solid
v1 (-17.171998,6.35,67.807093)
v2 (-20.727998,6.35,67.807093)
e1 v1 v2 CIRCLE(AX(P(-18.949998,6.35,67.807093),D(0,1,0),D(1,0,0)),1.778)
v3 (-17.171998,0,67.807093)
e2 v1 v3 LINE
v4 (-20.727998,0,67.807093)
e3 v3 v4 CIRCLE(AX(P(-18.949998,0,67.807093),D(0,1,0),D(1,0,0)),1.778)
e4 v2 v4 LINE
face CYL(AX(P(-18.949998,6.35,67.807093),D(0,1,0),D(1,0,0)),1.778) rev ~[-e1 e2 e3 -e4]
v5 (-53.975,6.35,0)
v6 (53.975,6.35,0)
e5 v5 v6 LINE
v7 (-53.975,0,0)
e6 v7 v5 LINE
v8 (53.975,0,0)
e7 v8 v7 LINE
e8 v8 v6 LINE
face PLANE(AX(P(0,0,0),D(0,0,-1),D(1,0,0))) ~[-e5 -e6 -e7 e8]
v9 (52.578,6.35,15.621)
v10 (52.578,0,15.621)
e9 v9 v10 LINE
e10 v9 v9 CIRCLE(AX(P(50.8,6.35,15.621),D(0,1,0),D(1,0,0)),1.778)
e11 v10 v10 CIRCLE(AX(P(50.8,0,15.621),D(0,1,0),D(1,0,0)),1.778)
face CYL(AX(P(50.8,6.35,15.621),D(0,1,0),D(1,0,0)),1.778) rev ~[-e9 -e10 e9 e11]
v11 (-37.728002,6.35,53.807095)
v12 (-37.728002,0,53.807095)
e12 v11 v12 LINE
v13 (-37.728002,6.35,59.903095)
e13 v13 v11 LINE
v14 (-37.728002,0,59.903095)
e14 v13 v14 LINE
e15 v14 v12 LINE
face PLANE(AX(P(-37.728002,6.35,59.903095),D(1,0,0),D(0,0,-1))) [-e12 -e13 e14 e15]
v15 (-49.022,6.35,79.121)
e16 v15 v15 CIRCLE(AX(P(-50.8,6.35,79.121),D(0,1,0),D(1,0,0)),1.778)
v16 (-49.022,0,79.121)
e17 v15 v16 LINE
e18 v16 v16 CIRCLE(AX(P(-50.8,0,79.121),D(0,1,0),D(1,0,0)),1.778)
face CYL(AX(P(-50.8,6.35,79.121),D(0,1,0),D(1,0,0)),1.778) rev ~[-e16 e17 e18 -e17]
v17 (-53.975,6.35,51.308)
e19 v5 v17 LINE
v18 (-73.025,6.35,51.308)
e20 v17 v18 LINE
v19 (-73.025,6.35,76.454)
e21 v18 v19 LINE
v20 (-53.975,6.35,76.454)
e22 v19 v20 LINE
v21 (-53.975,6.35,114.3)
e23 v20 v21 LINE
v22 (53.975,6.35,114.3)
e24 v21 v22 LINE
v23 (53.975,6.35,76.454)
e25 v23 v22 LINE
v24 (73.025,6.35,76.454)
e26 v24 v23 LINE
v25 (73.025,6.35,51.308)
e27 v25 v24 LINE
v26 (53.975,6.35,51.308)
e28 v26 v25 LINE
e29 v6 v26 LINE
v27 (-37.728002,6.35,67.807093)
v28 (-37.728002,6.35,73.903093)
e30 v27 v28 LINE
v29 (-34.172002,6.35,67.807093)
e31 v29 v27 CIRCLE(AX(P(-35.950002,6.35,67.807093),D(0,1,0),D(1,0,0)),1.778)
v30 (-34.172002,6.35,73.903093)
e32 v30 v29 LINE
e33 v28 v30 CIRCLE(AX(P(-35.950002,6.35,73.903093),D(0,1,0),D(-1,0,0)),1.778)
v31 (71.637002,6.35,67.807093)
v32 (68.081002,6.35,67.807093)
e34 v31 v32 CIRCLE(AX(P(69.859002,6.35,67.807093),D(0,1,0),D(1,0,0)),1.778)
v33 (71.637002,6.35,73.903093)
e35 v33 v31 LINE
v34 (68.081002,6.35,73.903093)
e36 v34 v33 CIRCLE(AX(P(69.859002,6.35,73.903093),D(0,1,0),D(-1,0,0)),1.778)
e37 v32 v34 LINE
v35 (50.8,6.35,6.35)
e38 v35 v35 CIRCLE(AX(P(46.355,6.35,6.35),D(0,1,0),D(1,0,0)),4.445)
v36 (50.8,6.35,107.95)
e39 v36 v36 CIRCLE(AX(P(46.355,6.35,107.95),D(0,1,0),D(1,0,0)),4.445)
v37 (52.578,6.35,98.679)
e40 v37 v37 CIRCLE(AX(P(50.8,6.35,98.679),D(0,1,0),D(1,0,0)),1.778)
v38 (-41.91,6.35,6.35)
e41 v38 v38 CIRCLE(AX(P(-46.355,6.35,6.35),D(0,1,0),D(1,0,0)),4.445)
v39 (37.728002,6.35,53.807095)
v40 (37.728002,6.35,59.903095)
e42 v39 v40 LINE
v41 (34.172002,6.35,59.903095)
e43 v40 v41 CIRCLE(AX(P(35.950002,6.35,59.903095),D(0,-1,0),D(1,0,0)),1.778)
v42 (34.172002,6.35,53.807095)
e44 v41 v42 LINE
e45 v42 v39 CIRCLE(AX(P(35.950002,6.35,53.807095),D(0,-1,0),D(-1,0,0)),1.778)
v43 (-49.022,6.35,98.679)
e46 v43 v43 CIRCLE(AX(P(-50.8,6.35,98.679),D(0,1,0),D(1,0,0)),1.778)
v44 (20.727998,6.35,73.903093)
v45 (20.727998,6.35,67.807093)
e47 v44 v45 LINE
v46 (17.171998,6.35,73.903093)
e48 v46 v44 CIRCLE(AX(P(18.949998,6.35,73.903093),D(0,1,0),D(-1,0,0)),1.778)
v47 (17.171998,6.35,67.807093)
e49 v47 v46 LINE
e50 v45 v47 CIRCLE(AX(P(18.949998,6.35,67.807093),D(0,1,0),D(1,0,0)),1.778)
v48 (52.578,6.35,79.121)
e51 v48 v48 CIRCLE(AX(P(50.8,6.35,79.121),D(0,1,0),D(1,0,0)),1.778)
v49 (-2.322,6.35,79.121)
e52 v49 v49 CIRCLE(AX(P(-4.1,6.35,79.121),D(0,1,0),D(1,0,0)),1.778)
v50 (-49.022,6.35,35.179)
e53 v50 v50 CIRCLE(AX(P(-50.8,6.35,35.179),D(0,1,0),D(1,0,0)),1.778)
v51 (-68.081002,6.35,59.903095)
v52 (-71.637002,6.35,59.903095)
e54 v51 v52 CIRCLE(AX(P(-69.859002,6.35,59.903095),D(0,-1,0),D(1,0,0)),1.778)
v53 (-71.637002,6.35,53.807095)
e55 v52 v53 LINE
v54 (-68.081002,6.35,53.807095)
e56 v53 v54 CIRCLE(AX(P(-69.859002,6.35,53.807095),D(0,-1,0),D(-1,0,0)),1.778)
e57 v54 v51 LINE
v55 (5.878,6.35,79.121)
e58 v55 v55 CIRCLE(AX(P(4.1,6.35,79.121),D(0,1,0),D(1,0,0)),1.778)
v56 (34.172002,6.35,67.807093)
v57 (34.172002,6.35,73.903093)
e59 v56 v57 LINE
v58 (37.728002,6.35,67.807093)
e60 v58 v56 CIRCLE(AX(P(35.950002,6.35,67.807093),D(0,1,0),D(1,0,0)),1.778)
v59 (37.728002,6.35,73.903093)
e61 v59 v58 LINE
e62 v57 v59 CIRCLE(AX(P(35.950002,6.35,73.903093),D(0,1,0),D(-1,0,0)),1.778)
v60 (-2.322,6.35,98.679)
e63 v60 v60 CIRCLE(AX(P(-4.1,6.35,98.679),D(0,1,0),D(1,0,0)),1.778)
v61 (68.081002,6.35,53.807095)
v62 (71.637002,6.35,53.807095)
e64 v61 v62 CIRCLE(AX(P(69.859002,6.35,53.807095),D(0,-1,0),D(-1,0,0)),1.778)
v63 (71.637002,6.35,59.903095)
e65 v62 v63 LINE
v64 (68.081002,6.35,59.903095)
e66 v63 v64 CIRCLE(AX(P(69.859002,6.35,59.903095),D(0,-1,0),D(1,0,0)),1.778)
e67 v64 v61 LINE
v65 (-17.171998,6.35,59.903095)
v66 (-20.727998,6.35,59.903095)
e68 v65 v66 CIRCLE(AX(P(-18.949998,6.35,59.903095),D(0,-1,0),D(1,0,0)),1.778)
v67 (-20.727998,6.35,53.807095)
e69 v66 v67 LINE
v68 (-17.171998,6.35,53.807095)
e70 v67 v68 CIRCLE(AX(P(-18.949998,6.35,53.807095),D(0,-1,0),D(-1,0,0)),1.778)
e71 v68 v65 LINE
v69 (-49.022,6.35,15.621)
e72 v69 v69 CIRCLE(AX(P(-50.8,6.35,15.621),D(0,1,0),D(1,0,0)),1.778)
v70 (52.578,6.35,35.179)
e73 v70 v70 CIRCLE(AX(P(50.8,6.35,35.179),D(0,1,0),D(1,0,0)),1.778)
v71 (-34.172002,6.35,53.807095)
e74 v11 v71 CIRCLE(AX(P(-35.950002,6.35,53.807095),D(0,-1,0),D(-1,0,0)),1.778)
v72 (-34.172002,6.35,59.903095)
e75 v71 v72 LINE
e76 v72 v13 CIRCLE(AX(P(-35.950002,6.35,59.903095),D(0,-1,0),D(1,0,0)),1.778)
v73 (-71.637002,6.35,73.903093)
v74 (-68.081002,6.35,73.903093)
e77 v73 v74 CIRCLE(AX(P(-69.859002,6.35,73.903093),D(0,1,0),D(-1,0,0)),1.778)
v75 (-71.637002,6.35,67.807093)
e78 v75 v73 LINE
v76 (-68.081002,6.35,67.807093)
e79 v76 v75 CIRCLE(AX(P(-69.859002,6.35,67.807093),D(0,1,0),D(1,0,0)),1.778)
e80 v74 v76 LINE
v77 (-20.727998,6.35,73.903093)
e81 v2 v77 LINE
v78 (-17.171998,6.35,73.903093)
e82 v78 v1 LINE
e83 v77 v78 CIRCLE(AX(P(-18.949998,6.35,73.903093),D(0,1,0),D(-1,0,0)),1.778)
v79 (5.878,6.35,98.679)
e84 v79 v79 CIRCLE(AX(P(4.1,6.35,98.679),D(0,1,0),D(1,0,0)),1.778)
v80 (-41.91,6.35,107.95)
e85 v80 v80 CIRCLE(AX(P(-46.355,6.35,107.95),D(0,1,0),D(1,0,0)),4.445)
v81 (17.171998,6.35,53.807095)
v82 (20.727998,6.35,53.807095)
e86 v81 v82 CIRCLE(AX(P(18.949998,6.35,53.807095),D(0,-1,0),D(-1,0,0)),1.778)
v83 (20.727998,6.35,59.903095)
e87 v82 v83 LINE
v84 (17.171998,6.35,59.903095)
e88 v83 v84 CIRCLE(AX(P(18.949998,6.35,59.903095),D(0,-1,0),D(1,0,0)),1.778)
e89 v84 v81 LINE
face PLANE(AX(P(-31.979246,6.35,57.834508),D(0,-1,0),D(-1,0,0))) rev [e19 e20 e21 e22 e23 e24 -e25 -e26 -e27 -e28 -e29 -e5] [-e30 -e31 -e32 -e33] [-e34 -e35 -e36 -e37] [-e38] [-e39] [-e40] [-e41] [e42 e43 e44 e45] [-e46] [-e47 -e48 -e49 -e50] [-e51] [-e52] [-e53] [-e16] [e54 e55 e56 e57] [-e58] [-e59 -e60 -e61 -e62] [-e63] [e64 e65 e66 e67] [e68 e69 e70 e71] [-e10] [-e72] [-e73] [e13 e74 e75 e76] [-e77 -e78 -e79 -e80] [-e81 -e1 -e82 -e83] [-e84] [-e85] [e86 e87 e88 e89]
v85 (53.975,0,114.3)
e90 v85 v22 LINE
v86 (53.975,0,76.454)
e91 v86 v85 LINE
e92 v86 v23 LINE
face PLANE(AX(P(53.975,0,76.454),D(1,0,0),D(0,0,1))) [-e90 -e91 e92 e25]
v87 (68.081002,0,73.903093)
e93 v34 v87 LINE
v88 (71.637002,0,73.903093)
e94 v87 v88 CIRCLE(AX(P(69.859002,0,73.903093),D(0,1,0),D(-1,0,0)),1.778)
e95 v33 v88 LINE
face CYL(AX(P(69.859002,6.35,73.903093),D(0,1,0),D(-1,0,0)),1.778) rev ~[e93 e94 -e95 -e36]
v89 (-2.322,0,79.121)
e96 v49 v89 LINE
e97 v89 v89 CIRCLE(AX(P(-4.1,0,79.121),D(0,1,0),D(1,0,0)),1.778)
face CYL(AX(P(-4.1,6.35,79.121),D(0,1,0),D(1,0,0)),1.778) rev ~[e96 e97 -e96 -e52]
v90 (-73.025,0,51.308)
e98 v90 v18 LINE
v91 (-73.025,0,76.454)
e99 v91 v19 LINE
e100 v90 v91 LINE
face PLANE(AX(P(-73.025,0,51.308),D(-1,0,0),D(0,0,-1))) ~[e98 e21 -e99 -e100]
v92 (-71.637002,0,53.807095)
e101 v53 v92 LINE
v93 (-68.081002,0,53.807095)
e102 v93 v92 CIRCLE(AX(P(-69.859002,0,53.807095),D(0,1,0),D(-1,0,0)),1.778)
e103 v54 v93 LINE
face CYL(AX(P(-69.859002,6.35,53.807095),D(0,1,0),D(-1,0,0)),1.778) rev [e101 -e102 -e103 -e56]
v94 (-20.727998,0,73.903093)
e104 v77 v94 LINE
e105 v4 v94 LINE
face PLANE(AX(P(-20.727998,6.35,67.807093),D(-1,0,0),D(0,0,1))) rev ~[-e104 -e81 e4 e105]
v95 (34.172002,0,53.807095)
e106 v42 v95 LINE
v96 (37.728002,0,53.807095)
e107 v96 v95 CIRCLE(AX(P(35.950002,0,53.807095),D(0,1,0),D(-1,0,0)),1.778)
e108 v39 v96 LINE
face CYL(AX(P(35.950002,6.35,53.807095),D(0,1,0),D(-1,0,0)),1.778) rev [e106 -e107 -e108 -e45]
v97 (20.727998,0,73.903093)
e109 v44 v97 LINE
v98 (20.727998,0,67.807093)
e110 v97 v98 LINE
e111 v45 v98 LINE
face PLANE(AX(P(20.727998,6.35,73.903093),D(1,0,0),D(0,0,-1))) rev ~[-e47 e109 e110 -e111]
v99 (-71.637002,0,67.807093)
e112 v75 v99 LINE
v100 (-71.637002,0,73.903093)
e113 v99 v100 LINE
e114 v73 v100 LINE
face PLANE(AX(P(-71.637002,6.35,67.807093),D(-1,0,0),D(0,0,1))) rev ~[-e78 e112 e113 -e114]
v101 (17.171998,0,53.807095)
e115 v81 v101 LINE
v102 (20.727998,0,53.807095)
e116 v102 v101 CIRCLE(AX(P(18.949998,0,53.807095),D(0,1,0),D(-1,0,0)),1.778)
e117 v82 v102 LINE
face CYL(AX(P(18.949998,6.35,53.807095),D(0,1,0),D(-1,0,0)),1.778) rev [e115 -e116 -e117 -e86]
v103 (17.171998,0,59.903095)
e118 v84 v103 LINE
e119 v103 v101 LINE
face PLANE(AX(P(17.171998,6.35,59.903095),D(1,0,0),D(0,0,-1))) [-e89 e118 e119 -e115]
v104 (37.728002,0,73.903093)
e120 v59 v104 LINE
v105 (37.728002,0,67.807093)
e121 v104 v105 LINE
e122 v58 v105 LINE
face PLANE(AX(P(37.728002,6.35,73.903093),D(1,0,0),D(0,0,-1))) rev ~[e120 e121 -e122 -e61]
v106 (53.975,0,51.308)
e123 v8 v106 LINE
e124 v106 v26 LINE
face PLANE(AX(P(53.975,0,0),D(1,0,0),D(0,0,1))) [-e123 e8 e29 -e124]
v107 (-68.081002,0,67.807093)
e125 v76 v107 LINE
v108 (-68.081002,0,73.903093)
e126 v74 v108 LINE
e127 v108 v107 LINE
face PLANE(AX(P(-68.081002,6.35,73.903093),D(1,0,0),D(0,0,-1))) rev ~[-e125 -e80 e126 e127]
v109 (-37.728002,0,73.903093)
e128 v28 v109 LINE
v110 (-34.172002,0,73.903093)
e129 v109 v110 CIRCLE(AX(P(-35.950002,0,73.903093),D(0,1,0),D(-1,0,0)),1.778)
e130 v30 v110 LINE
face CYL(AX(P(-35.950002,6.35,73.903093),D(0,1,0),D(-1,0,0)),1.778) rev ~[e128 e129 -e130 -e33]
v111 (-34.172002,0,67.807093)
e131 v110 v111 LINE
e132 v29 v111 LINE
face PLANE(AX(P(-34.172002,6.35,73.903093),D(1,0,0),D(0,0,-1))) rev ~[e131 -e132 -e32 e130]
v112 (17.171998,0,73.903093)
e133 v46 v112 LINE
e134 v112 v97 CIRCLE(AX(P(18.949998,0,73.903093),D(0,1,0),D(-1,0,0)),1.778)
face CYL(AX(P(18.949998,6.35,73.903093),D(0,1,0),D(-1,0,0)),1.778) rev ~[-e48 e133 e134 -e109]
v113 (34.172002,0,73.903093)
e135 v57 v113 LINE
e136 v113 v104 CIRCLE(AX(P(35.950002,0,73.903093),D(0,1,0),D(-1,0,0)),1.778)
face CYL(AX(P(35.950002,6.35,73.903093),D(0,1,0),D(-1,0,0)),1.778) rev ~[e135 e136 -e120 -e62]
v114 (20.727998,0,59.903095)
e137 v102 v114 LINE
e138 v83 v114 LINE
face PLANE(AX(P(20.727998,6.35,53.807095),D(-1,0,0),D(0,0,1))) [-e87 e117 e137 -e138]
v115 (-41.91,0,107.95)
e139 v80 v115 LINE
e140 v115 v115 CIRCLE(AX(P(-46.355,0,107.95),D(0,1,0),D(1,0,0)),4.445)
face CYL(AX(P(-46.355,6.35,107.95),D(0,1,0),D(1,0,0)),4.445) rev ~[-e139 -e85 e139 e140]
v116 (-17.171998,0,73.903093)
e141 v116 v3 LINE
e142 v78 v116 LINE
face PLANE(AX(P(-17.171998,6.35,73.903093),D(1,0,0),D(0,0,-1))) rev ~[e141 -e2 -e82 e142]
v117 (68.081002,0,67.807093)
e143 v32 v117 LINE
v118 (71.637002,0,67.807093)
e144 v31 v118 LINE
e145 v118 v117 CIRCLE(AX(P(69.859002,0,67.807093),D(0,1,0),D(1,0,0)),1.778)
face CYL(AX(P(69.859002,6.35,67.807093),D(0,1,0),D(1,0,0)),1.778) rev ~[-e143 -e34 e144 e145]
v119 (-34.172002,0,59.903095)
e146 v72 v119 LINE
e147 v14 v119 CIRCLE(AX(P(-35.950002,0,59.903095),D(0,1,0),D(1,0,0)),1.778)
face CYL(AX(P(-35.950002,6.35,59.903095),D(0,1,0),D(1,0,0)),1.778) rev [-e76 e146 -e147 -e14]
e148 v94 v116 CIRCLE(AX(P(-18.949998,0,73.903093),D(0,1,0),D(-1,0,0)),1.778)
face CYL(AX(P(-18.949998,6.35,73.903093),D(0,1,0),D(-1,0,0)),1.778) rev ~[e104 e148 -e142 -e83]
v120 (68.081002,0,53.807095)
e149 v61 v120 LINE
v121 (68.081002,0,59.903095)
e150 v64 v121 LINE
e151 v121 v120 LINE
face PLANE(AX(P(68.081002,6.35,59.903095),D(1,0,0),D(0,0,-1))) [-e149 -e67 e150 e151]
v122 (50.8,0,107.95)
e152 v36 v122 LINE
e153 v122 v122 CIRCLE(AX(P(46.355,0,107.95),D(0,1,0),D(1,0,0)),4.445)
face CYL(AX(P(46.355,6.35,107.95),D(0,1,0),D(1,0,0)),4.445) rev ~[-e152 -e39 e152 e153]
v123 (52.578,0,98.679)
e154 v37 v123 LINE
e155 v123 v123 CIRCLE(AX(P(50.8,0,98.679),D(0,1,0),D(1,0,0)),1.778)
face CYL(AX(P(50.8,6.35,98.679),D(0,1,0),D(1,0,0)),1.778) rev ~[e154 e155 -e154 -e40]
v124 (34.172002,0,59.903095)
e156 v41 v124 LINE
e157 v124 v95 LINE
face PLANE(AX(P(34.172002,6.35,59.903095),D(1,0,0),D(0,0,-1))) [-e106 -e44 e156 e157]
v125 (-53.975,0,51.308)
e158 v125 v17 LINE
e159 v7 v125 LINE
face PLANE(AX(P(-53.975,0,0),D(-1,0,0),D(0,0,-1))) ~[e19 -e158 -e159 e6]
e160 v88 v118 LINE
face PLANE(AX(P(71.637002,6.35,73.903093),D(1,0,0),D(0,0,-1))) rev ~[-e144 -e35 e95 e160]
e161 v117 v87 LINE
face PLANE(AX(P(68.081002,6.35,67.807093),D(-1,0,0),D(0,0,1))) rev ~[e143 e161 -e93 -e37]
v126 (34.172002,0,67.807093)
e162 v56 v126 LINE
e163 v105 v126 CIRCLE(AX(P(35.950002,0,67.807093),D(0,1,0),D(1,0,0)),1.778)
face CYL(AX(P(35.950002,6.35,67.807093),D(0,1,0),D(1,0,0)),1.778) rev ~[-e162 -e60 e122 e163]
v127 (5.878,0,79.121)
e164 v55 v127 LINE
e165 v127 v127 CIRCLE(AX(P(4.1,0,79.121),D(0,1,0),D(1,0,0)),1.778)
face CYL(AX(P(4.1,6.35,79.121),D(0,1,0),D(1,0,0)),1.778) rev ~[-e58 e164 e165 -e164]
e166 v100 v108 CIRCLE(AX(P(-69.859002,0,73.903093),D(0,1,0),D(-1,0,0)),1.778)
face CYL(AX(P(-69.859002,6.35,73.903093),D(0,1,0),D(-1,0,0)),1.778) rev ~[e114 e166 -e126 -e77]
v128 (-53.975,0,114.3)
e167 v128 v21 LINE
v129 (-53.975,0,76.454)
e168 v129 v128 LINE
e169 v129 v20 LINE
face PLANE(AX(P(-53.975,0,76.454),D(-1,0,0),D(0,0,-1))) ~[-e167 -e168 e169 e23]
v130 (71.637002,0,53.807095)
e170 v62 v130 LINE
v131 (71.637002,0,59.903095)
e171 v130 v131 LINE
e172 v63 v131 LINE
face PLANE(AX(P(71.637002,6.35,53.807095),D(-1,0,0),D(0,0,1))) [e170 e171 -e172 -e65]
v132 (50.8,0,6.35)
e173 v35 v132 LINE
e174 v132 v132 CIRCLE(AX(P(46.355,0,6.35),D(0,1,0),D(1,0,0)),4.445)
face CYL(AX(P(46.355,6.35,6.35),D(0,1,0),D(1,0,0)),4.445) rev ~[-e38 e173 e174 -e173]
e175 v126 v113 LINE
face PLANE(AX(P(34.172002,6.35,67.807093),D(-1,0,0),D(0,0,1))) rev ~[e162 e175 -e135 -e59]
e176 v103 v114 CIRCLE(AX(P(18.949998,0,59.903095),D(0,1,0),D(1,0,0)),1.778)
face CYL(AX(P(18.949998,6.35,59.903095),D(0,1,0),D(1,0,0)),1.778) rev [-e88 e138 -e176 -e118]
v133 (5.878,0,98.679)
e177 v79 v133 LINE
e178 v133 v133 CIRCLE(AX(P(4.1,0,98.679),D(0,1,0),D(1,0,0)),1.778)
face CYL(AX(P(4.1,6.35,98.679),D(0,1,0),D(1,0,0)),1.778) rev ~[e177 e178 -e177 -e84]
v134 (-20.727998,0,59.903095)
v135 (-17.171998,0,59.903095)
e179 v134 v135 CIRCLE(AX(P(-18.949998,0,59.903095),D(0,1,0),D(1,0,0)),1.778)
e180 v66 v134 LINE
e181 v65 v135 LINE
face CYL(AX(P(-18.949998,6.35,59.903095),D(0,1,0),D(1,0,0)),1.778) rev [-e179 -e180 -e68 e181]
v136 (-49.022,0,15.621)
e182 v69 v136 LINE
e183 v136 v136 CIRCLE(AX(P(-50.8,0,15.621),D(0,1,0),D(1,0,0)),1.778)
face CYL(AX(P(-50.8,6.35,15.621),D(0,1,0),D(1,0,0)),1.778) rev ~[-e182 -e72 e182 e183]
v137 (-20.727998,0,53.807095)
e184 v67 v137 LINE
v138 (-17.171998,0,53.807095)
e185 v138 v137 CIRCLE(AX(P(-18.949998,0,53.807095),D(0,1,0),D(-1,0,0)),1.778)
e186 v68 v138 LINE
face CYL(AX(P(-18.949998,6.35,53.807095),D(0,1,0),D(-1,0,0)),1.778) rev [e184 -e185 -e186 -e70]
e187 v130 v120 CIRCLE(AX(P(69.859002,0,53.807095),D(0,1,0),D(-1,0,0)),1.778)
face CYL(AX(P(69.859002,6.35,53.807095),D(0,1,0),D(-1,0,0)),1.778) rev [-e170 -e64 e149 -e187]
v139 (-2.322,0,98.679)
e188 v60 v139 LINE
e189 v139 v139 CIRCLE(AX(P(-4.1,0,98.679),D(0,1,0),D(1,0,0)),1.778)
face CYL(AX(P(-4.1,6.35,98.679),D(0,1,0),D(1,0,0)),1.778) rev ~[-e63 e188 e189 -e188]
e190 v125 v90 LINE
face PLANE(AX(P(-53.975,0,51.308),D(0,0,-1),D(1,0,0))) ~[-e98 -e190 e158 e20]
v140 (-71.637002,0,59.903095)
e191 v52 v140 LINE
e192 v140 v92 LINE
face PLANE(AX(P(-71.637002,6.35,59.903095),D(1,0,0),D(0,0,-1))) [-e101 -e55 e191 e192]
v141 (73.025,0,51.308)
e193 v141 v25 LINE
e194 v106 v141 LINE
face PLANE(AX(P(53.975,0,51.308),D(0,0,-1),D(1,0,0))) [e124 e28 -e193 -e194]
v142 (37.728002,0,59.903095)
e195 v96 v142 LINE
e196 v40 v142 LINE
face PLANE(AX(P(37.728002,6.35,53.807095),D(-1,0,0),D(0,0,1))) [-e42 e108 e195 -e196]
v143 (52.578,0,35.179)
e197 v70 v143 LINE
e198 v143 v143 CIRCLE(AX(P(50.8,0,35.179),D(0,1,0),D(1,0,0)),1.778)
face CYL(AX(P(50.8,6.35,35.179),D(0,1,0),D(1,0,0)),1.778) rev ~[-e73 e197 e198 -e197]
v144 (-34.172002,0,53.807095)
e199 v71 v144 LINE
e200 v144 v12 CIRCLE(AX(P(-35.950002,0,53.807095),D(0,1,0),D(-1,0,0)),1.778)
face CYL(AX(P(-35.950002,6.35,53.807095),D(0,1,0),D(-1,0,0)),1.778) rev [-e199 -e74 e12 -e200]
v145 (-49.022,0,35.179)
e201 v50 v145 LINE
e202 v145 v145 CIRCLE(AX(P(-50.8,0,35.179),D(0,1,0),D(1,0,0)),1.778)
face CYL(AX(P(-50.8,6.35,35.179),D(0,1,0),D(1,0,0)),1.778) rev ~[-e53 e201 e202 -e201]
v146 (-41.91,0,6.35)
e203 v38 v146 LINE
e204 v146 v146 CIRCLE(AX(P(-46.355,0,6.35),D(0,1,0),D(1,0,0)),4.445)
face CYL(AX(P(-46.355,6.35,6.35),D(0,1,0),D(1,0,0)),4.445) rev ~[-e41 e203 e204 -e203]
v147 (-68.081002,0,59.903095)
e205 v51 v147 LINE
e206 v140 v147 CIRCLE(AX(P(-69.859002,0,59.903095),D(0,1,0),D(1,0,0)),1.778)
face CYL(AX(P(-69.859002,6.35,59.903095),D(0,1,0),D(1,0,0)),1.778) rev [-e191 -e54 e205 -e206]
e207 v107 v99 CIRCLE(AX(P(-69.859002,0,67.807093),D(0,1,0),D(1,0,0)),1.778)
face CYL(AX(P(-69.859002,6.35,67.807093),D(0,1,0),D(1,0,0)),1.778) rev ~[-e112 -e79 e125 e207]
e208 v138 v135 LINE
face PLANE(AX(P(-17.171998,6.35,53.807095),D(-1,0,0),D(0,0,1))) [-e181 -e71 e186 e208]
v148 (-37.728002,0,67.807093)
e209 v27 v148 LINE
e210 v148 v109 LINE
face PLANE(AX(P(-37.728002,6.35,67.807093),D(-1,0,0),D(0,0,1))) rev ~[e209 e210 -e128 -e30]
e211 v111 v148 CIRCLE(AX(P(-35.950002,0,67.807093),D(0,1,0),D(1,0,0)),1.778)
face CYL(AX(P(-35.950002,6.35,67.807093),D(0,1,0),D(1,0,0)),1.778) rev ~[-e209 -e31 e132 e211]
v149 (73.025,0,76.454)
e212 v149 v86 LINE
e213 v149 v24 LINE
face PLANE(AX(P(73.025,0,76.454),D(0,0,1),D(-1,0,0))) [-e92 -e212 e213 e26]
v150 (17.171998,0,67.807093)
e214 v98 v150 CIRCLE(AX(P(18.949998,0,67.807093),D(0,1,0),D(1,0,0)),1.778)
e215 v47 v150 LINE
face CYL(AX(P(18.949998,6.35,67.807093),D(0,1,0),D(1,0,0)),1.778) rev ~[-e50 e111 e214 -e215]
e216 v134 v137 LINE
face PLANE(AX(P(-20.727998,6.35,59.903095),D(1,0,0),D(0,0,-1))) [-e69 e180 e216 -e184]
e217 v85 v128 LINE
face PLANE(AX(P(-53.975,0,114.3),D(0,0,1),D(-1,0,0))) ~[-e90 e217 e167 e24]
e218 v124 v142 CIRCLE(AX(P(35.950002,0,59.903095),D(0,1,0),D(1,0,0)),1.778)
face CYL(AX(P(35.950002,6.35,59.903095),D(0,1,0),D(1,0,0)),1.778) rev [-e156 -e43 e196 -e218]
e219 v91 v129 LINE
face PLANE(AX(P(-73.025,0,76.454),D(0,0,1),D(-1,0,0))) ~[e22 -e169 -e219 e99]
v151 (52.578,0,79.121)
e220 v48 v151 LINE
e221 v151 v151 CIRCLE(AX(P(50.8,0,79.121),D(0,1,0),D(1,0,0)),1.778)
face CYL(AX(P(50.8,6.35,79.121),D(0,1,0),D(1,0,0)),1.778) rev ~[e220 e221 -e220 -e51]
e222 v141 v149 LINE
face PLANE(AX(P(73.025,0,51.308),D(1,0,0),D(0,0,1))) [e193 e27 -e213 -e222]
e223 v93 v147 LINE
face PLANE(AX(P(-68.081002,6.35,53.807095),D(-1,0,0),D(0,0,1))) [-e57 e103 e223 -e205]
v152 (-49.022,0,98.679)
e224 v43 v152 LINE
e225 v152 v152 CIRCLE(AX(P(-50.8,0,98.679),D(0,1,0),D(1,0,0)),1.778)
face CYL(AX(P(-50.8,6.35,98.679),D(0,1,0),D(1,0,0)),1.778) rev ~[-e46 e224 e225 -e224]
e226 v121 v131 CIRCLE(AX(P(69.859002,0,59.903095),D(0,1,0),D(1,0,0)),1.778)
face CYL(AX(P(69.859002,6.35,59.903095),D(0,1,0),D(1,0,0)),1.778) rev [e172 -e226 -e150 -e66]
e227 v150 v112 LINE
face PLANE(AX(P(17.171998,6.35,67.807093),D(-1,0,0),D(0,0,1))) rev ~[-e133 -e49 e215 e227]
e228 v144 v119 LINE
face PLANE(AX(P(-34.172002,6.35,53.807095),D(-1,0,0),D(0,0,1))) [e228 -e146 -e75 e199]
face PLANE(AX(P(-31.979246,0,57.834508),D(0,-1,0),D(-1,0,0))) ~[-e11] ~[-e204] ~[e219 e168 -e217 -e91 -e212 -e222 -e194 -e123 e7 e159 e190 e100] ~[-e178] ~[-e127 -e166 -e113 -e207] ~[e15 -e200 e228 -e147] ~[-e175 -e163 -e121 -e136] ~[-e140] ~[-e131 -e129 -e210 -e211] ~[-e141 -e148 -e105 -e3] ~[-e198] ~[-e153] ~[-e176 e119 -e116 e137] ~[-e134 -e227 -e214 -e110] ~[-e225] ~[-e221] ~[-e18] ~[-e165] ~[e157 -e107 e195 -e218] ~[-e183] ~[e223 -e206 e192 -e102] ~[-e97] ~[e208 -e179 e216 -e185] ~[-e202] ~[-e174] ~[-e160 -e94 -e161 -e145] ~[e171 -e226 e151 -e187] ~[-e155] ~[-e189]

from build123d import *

# Parameters (mm, degrees)
BOSS_EXTRU_1_DEPTH      = 6.35
ESQUISSE4_R             = 1.778
ENL_V_MAT_EXTRU_2_DEPTH = 7.35
ESQUISSE7_R             = 4.445
ENL_V_MAT_EXTRU_3_DEPTH = 7.35


with BuildPart() as part:
    # Esquisse1 → Boss.-Extru.1 (new body)
    with BuildSketch(Plane(origin=(0, 0, 0), x_dir=(1, 0, 0), z_dir=(0, 1, 0))):
        Polygon((0, 0), (53.975, 0), (53.975, -51.308), (73.025, -51.308), (73.025, -76.454), (53.975, -76.454), (53.975, -114.3), (0, -114.3), align=None)
    boss_extru_1 = extrude(amount=BOSS_EXTRU_1_DEPTH)

    # Symétrie1: Boss.-Extru.1 across plane
    add(boss_extru_1.mirror(Plane(origin=(0, 0, 0), x_dir=(0, 0, 1), z_dir=(1, 0, 0))))

    # Esquisse4 → Enlèv. mat.-Extru.2 (cut, through all)
    with BuildSketch(Plane(origin=(0, 6.35, 0), x_dir=(1, 0, 0), z_dir=(0, 1, 0))):
        with Locations((-50.8, -15.621)):
            Circle(ESQUISSE4_R)
        with Locations((-50.8, -35.179)):
            Circle(ESQUISSE4_R)
        with Locations((50.8, -15.621)):
            Circle(ESQUISSE4_R)
        with Locations((50.8, -35.179)):
            Circle(ESQUISSE4_R)
        with Locations((-4.1, -98.679)):
            Circle(ESQUISSE4_R)
        with Locations((4.1, -98.679)):
            Circle(ESQUISSE4_R)
        with Locations((4.1, -79.121)):
            Circle(ESQUISSE4_R)
        with Locations((-4.1, -79.121)):
            Circle(ESQUISSE4_R)
        with Locations((-50.8, -98.679)):
            Circle(ESQUISSE4_R)
        with Locations((-50.8, -79.121)):
            Circle(ESQUISSE4_R)
        with Locations((50.8, -98.679)):
            Circle(ESQUISSE4_R)
        with Locations((50.8, -79.121)):
            Circle(ESQUISSE4_R)
        with BuildLine():
            Line((-34.17200205, -53.807095184), (-34.17200205, -59.903095184))
            ThreePointArc((-34.17200205, -59.903095184), (-35.95000205, -61.681095184), (-37.72800205, -59.903095184))
            Line((-37.72800205, -59.903095184), (-37.72800205, -53.807095184))
            ThreePointArc((-37.72800205, -53.807095184), (-35.95000205, -52.029095184), (-34.17200205, -53.807095184))
        make_face()
        with BuildLine():
            Line((-17.17199795, -53.807095184), (-17.17199795, -59.903095184))
            ThreePointArc((-17.17199795, -59.903095184), (-18.94999795, -61.681095184), (-20.72799795, -59.903095184))
            Line((-20.72799795, -59.903095184), (-20.72799795, -53.807095184))
            ThreePointArc((-20.72799795, -53.807095184), (-18.94999795, -52.029095184), (-17.17199795, -53.807095184))
        make_face()
        with BuildLine():
            Line((-37.72800205, -67.807092584), (-37.72800205, -73.903092584))
            ThreePointArc((-37.72800205, -73.903092584), (-35.95000205, -75.681092584), (-34.17200205, -73.903092584))
            Line((-34.17200205, -73.903092584), (-34.17200205, -67.807092584))
            ThreePointArc((-34.17200205, -67.807092584), (-35.95000205, -66.029092584), (-37.72800205, -67.807092584))
        make_face()
        with BuildLine():
            Line((-20.72799795, -67.807092584), (-20.72799795, -73.903092584))
            ThreePointArc((-20.72799795, -73.903092584), (-18.94999795, -75.681092584), (-17.17199795, -73.903092584))
            Line((-17.17199795, -73.903092584), (-17.17199795, -67.807092584))
            ThreePointArc((-17.17199795, -67.807092584), (-18.94999795, -66.029092584), (-20.72799795, -67.807092584))
        make_face()
        with BuildLine():
            Line((17.17199795, -67.807092584), (17.17199795, -73.903092584))
            ThreePointArc((17.17199795, -73.903092584), (18.94999795, -75.681092584), (20.72799795, -73.903092584))
            Line((20.72799795, -73.903092584), (20.72799795, -67.807092584))
            ThreePointArc((20.72799795, -67.807092584), (18.94999795, -66.029092584), (17.17199795, -67.807092584))
        make_face()
        with BuildLine():
            Line((20.72799795, -53.807095184), (20.72799795, -59.903095184))
            ThreePointArc((20.72799795, -59.903095184), (18.94999795, -61.681095184), (17.17199795, -59.903095184))
            Line((17.17199795, -59.903095184), (17.17199795, -53.807095184))
            ThreePointArc((17.17199795, -53.807095184), (18.94999795, -52.029095184), (20.72799795, -53.807095184))
        make_face()
        with BuildLine():
            Line((34.17200205, -67.807092584), (34.17200205, -73.903092584))
            ThreePointArc((34.17200205, -73.903092584), (35.95000205, -75.681092584), (37.72800205, -73.903092584))
            Line((37.72800205, -73.903092584), (37.72800205, -67.807092584))
            ThreePointArc((37.72800205, -67.807092584), (35.95000205, -66.029092584), (34.17200205, -67.807092584))
        make_face()
        with BuildLine():
            Line((37.72800205, -53.807095184), (37.72800205, -59.903095184))
            ThreePointArc((37.72800205, -59.903095184), (35.95000205, -61.681095184), (34.17200205, -59.903095184))
            Line((34.17200205, -59.903095184), (34.17200205, -53.807095184))
            ThreePointArc((34.17200205, -53.807095184), (35.95000205, -52.029095184), (37.72800205, -53.807095184))
        make_face()
        with BuildLine():
            Line((-68.08100205, -53.807095184), (-68.08100205, -59.903095184))
            ThreePointArc((-68.08100205, -59.903095184), (-69.85900205, -61.681095184), (-71.63700205, -59.903095184))
            Line((-71.63700205, -59.903095184), (-71.63700205, -53.807095184))
            ThreePointArc((-71.63700205, -53.807095184), (-69.85900205, -52.029095184), (-68.08100205, -53.807095184))
        make_face()
        with BuildLine():
            Line((-71.63700205, -67.807092584), (-71.63700205, -73.903092584))
            ThreePointArc((-71.63700205, -73.903092584), (-69.85900205, -75.681092584), (-68.08100205, -73.903092584))
            Line((-68.08100205, -73.903092584), (-68.08100205, -67.807092584))
            ThreePointArc((-68.08100205, -67.807092584), (-69.85900205, -66.029092584), (-71.63700205, -67.807092584))
        make_face()
        with BuildLine():
            Line((68.08100205, -67.807092584), (68.08100205, -73.903092584))
            ThreePointArc((68.08100205, -73.903092584), (69.85900205, -75.681092584), (71.63700205, -73.903092584))
            Line((71.63700205, -73.903092584), (71.63700205, -67.807092584))
            ThreePointArc((71.63700205, -67.807092584), (69.85900205, -66.029092584), (68.08100205, -67.807092584))
        make_face()
        with BuildLine():
            Line((71.63700205, -53.807095184), (71.63700205, -59.903095184))
            ThreePointArc((71.63700205, -59.903095184), (69.85900205, -61.681095184), (68.08100205, -59.903095184))
            Line((68.08100205, -59.903095184), (68.08100205, -53.807095184))
            ThreePointArc((68.08100205, -53.807095184), (69.85900205, -52.029095184), (71.63700205, -53.807095184))
        make_face()
    extrude(amount=-ENL_V_MAT_EXTRU_2_DEPTH, mode=Mode.SUBTRACT)

    # Esquisse7 → Enlèv. mat.-Extru.3 (cut, through all)
    with BuildSketch(Plane(origin=(0, 6.35, 0), x_dir=(1, 0, 0), z_dir=(0, 1, 0))):
        with Locations((-46.355, -6.35)):
            Circle(ESQUISSE7_R)
        with Locations((46.355, -6.35)):
            Circle(ESQUISSE7_R)
        with Locations((-46.355, -107.95)):
            Circle(ESQUISSE7_R)
        with Locations((46.355, -107.95)):
            Circle(ESQUISSE7_R)
    extrude(amount=-ENL_V_MAT_EXTRU_3_DEPTH, mode=Mode.SUBTRACT)


solid = part.part
